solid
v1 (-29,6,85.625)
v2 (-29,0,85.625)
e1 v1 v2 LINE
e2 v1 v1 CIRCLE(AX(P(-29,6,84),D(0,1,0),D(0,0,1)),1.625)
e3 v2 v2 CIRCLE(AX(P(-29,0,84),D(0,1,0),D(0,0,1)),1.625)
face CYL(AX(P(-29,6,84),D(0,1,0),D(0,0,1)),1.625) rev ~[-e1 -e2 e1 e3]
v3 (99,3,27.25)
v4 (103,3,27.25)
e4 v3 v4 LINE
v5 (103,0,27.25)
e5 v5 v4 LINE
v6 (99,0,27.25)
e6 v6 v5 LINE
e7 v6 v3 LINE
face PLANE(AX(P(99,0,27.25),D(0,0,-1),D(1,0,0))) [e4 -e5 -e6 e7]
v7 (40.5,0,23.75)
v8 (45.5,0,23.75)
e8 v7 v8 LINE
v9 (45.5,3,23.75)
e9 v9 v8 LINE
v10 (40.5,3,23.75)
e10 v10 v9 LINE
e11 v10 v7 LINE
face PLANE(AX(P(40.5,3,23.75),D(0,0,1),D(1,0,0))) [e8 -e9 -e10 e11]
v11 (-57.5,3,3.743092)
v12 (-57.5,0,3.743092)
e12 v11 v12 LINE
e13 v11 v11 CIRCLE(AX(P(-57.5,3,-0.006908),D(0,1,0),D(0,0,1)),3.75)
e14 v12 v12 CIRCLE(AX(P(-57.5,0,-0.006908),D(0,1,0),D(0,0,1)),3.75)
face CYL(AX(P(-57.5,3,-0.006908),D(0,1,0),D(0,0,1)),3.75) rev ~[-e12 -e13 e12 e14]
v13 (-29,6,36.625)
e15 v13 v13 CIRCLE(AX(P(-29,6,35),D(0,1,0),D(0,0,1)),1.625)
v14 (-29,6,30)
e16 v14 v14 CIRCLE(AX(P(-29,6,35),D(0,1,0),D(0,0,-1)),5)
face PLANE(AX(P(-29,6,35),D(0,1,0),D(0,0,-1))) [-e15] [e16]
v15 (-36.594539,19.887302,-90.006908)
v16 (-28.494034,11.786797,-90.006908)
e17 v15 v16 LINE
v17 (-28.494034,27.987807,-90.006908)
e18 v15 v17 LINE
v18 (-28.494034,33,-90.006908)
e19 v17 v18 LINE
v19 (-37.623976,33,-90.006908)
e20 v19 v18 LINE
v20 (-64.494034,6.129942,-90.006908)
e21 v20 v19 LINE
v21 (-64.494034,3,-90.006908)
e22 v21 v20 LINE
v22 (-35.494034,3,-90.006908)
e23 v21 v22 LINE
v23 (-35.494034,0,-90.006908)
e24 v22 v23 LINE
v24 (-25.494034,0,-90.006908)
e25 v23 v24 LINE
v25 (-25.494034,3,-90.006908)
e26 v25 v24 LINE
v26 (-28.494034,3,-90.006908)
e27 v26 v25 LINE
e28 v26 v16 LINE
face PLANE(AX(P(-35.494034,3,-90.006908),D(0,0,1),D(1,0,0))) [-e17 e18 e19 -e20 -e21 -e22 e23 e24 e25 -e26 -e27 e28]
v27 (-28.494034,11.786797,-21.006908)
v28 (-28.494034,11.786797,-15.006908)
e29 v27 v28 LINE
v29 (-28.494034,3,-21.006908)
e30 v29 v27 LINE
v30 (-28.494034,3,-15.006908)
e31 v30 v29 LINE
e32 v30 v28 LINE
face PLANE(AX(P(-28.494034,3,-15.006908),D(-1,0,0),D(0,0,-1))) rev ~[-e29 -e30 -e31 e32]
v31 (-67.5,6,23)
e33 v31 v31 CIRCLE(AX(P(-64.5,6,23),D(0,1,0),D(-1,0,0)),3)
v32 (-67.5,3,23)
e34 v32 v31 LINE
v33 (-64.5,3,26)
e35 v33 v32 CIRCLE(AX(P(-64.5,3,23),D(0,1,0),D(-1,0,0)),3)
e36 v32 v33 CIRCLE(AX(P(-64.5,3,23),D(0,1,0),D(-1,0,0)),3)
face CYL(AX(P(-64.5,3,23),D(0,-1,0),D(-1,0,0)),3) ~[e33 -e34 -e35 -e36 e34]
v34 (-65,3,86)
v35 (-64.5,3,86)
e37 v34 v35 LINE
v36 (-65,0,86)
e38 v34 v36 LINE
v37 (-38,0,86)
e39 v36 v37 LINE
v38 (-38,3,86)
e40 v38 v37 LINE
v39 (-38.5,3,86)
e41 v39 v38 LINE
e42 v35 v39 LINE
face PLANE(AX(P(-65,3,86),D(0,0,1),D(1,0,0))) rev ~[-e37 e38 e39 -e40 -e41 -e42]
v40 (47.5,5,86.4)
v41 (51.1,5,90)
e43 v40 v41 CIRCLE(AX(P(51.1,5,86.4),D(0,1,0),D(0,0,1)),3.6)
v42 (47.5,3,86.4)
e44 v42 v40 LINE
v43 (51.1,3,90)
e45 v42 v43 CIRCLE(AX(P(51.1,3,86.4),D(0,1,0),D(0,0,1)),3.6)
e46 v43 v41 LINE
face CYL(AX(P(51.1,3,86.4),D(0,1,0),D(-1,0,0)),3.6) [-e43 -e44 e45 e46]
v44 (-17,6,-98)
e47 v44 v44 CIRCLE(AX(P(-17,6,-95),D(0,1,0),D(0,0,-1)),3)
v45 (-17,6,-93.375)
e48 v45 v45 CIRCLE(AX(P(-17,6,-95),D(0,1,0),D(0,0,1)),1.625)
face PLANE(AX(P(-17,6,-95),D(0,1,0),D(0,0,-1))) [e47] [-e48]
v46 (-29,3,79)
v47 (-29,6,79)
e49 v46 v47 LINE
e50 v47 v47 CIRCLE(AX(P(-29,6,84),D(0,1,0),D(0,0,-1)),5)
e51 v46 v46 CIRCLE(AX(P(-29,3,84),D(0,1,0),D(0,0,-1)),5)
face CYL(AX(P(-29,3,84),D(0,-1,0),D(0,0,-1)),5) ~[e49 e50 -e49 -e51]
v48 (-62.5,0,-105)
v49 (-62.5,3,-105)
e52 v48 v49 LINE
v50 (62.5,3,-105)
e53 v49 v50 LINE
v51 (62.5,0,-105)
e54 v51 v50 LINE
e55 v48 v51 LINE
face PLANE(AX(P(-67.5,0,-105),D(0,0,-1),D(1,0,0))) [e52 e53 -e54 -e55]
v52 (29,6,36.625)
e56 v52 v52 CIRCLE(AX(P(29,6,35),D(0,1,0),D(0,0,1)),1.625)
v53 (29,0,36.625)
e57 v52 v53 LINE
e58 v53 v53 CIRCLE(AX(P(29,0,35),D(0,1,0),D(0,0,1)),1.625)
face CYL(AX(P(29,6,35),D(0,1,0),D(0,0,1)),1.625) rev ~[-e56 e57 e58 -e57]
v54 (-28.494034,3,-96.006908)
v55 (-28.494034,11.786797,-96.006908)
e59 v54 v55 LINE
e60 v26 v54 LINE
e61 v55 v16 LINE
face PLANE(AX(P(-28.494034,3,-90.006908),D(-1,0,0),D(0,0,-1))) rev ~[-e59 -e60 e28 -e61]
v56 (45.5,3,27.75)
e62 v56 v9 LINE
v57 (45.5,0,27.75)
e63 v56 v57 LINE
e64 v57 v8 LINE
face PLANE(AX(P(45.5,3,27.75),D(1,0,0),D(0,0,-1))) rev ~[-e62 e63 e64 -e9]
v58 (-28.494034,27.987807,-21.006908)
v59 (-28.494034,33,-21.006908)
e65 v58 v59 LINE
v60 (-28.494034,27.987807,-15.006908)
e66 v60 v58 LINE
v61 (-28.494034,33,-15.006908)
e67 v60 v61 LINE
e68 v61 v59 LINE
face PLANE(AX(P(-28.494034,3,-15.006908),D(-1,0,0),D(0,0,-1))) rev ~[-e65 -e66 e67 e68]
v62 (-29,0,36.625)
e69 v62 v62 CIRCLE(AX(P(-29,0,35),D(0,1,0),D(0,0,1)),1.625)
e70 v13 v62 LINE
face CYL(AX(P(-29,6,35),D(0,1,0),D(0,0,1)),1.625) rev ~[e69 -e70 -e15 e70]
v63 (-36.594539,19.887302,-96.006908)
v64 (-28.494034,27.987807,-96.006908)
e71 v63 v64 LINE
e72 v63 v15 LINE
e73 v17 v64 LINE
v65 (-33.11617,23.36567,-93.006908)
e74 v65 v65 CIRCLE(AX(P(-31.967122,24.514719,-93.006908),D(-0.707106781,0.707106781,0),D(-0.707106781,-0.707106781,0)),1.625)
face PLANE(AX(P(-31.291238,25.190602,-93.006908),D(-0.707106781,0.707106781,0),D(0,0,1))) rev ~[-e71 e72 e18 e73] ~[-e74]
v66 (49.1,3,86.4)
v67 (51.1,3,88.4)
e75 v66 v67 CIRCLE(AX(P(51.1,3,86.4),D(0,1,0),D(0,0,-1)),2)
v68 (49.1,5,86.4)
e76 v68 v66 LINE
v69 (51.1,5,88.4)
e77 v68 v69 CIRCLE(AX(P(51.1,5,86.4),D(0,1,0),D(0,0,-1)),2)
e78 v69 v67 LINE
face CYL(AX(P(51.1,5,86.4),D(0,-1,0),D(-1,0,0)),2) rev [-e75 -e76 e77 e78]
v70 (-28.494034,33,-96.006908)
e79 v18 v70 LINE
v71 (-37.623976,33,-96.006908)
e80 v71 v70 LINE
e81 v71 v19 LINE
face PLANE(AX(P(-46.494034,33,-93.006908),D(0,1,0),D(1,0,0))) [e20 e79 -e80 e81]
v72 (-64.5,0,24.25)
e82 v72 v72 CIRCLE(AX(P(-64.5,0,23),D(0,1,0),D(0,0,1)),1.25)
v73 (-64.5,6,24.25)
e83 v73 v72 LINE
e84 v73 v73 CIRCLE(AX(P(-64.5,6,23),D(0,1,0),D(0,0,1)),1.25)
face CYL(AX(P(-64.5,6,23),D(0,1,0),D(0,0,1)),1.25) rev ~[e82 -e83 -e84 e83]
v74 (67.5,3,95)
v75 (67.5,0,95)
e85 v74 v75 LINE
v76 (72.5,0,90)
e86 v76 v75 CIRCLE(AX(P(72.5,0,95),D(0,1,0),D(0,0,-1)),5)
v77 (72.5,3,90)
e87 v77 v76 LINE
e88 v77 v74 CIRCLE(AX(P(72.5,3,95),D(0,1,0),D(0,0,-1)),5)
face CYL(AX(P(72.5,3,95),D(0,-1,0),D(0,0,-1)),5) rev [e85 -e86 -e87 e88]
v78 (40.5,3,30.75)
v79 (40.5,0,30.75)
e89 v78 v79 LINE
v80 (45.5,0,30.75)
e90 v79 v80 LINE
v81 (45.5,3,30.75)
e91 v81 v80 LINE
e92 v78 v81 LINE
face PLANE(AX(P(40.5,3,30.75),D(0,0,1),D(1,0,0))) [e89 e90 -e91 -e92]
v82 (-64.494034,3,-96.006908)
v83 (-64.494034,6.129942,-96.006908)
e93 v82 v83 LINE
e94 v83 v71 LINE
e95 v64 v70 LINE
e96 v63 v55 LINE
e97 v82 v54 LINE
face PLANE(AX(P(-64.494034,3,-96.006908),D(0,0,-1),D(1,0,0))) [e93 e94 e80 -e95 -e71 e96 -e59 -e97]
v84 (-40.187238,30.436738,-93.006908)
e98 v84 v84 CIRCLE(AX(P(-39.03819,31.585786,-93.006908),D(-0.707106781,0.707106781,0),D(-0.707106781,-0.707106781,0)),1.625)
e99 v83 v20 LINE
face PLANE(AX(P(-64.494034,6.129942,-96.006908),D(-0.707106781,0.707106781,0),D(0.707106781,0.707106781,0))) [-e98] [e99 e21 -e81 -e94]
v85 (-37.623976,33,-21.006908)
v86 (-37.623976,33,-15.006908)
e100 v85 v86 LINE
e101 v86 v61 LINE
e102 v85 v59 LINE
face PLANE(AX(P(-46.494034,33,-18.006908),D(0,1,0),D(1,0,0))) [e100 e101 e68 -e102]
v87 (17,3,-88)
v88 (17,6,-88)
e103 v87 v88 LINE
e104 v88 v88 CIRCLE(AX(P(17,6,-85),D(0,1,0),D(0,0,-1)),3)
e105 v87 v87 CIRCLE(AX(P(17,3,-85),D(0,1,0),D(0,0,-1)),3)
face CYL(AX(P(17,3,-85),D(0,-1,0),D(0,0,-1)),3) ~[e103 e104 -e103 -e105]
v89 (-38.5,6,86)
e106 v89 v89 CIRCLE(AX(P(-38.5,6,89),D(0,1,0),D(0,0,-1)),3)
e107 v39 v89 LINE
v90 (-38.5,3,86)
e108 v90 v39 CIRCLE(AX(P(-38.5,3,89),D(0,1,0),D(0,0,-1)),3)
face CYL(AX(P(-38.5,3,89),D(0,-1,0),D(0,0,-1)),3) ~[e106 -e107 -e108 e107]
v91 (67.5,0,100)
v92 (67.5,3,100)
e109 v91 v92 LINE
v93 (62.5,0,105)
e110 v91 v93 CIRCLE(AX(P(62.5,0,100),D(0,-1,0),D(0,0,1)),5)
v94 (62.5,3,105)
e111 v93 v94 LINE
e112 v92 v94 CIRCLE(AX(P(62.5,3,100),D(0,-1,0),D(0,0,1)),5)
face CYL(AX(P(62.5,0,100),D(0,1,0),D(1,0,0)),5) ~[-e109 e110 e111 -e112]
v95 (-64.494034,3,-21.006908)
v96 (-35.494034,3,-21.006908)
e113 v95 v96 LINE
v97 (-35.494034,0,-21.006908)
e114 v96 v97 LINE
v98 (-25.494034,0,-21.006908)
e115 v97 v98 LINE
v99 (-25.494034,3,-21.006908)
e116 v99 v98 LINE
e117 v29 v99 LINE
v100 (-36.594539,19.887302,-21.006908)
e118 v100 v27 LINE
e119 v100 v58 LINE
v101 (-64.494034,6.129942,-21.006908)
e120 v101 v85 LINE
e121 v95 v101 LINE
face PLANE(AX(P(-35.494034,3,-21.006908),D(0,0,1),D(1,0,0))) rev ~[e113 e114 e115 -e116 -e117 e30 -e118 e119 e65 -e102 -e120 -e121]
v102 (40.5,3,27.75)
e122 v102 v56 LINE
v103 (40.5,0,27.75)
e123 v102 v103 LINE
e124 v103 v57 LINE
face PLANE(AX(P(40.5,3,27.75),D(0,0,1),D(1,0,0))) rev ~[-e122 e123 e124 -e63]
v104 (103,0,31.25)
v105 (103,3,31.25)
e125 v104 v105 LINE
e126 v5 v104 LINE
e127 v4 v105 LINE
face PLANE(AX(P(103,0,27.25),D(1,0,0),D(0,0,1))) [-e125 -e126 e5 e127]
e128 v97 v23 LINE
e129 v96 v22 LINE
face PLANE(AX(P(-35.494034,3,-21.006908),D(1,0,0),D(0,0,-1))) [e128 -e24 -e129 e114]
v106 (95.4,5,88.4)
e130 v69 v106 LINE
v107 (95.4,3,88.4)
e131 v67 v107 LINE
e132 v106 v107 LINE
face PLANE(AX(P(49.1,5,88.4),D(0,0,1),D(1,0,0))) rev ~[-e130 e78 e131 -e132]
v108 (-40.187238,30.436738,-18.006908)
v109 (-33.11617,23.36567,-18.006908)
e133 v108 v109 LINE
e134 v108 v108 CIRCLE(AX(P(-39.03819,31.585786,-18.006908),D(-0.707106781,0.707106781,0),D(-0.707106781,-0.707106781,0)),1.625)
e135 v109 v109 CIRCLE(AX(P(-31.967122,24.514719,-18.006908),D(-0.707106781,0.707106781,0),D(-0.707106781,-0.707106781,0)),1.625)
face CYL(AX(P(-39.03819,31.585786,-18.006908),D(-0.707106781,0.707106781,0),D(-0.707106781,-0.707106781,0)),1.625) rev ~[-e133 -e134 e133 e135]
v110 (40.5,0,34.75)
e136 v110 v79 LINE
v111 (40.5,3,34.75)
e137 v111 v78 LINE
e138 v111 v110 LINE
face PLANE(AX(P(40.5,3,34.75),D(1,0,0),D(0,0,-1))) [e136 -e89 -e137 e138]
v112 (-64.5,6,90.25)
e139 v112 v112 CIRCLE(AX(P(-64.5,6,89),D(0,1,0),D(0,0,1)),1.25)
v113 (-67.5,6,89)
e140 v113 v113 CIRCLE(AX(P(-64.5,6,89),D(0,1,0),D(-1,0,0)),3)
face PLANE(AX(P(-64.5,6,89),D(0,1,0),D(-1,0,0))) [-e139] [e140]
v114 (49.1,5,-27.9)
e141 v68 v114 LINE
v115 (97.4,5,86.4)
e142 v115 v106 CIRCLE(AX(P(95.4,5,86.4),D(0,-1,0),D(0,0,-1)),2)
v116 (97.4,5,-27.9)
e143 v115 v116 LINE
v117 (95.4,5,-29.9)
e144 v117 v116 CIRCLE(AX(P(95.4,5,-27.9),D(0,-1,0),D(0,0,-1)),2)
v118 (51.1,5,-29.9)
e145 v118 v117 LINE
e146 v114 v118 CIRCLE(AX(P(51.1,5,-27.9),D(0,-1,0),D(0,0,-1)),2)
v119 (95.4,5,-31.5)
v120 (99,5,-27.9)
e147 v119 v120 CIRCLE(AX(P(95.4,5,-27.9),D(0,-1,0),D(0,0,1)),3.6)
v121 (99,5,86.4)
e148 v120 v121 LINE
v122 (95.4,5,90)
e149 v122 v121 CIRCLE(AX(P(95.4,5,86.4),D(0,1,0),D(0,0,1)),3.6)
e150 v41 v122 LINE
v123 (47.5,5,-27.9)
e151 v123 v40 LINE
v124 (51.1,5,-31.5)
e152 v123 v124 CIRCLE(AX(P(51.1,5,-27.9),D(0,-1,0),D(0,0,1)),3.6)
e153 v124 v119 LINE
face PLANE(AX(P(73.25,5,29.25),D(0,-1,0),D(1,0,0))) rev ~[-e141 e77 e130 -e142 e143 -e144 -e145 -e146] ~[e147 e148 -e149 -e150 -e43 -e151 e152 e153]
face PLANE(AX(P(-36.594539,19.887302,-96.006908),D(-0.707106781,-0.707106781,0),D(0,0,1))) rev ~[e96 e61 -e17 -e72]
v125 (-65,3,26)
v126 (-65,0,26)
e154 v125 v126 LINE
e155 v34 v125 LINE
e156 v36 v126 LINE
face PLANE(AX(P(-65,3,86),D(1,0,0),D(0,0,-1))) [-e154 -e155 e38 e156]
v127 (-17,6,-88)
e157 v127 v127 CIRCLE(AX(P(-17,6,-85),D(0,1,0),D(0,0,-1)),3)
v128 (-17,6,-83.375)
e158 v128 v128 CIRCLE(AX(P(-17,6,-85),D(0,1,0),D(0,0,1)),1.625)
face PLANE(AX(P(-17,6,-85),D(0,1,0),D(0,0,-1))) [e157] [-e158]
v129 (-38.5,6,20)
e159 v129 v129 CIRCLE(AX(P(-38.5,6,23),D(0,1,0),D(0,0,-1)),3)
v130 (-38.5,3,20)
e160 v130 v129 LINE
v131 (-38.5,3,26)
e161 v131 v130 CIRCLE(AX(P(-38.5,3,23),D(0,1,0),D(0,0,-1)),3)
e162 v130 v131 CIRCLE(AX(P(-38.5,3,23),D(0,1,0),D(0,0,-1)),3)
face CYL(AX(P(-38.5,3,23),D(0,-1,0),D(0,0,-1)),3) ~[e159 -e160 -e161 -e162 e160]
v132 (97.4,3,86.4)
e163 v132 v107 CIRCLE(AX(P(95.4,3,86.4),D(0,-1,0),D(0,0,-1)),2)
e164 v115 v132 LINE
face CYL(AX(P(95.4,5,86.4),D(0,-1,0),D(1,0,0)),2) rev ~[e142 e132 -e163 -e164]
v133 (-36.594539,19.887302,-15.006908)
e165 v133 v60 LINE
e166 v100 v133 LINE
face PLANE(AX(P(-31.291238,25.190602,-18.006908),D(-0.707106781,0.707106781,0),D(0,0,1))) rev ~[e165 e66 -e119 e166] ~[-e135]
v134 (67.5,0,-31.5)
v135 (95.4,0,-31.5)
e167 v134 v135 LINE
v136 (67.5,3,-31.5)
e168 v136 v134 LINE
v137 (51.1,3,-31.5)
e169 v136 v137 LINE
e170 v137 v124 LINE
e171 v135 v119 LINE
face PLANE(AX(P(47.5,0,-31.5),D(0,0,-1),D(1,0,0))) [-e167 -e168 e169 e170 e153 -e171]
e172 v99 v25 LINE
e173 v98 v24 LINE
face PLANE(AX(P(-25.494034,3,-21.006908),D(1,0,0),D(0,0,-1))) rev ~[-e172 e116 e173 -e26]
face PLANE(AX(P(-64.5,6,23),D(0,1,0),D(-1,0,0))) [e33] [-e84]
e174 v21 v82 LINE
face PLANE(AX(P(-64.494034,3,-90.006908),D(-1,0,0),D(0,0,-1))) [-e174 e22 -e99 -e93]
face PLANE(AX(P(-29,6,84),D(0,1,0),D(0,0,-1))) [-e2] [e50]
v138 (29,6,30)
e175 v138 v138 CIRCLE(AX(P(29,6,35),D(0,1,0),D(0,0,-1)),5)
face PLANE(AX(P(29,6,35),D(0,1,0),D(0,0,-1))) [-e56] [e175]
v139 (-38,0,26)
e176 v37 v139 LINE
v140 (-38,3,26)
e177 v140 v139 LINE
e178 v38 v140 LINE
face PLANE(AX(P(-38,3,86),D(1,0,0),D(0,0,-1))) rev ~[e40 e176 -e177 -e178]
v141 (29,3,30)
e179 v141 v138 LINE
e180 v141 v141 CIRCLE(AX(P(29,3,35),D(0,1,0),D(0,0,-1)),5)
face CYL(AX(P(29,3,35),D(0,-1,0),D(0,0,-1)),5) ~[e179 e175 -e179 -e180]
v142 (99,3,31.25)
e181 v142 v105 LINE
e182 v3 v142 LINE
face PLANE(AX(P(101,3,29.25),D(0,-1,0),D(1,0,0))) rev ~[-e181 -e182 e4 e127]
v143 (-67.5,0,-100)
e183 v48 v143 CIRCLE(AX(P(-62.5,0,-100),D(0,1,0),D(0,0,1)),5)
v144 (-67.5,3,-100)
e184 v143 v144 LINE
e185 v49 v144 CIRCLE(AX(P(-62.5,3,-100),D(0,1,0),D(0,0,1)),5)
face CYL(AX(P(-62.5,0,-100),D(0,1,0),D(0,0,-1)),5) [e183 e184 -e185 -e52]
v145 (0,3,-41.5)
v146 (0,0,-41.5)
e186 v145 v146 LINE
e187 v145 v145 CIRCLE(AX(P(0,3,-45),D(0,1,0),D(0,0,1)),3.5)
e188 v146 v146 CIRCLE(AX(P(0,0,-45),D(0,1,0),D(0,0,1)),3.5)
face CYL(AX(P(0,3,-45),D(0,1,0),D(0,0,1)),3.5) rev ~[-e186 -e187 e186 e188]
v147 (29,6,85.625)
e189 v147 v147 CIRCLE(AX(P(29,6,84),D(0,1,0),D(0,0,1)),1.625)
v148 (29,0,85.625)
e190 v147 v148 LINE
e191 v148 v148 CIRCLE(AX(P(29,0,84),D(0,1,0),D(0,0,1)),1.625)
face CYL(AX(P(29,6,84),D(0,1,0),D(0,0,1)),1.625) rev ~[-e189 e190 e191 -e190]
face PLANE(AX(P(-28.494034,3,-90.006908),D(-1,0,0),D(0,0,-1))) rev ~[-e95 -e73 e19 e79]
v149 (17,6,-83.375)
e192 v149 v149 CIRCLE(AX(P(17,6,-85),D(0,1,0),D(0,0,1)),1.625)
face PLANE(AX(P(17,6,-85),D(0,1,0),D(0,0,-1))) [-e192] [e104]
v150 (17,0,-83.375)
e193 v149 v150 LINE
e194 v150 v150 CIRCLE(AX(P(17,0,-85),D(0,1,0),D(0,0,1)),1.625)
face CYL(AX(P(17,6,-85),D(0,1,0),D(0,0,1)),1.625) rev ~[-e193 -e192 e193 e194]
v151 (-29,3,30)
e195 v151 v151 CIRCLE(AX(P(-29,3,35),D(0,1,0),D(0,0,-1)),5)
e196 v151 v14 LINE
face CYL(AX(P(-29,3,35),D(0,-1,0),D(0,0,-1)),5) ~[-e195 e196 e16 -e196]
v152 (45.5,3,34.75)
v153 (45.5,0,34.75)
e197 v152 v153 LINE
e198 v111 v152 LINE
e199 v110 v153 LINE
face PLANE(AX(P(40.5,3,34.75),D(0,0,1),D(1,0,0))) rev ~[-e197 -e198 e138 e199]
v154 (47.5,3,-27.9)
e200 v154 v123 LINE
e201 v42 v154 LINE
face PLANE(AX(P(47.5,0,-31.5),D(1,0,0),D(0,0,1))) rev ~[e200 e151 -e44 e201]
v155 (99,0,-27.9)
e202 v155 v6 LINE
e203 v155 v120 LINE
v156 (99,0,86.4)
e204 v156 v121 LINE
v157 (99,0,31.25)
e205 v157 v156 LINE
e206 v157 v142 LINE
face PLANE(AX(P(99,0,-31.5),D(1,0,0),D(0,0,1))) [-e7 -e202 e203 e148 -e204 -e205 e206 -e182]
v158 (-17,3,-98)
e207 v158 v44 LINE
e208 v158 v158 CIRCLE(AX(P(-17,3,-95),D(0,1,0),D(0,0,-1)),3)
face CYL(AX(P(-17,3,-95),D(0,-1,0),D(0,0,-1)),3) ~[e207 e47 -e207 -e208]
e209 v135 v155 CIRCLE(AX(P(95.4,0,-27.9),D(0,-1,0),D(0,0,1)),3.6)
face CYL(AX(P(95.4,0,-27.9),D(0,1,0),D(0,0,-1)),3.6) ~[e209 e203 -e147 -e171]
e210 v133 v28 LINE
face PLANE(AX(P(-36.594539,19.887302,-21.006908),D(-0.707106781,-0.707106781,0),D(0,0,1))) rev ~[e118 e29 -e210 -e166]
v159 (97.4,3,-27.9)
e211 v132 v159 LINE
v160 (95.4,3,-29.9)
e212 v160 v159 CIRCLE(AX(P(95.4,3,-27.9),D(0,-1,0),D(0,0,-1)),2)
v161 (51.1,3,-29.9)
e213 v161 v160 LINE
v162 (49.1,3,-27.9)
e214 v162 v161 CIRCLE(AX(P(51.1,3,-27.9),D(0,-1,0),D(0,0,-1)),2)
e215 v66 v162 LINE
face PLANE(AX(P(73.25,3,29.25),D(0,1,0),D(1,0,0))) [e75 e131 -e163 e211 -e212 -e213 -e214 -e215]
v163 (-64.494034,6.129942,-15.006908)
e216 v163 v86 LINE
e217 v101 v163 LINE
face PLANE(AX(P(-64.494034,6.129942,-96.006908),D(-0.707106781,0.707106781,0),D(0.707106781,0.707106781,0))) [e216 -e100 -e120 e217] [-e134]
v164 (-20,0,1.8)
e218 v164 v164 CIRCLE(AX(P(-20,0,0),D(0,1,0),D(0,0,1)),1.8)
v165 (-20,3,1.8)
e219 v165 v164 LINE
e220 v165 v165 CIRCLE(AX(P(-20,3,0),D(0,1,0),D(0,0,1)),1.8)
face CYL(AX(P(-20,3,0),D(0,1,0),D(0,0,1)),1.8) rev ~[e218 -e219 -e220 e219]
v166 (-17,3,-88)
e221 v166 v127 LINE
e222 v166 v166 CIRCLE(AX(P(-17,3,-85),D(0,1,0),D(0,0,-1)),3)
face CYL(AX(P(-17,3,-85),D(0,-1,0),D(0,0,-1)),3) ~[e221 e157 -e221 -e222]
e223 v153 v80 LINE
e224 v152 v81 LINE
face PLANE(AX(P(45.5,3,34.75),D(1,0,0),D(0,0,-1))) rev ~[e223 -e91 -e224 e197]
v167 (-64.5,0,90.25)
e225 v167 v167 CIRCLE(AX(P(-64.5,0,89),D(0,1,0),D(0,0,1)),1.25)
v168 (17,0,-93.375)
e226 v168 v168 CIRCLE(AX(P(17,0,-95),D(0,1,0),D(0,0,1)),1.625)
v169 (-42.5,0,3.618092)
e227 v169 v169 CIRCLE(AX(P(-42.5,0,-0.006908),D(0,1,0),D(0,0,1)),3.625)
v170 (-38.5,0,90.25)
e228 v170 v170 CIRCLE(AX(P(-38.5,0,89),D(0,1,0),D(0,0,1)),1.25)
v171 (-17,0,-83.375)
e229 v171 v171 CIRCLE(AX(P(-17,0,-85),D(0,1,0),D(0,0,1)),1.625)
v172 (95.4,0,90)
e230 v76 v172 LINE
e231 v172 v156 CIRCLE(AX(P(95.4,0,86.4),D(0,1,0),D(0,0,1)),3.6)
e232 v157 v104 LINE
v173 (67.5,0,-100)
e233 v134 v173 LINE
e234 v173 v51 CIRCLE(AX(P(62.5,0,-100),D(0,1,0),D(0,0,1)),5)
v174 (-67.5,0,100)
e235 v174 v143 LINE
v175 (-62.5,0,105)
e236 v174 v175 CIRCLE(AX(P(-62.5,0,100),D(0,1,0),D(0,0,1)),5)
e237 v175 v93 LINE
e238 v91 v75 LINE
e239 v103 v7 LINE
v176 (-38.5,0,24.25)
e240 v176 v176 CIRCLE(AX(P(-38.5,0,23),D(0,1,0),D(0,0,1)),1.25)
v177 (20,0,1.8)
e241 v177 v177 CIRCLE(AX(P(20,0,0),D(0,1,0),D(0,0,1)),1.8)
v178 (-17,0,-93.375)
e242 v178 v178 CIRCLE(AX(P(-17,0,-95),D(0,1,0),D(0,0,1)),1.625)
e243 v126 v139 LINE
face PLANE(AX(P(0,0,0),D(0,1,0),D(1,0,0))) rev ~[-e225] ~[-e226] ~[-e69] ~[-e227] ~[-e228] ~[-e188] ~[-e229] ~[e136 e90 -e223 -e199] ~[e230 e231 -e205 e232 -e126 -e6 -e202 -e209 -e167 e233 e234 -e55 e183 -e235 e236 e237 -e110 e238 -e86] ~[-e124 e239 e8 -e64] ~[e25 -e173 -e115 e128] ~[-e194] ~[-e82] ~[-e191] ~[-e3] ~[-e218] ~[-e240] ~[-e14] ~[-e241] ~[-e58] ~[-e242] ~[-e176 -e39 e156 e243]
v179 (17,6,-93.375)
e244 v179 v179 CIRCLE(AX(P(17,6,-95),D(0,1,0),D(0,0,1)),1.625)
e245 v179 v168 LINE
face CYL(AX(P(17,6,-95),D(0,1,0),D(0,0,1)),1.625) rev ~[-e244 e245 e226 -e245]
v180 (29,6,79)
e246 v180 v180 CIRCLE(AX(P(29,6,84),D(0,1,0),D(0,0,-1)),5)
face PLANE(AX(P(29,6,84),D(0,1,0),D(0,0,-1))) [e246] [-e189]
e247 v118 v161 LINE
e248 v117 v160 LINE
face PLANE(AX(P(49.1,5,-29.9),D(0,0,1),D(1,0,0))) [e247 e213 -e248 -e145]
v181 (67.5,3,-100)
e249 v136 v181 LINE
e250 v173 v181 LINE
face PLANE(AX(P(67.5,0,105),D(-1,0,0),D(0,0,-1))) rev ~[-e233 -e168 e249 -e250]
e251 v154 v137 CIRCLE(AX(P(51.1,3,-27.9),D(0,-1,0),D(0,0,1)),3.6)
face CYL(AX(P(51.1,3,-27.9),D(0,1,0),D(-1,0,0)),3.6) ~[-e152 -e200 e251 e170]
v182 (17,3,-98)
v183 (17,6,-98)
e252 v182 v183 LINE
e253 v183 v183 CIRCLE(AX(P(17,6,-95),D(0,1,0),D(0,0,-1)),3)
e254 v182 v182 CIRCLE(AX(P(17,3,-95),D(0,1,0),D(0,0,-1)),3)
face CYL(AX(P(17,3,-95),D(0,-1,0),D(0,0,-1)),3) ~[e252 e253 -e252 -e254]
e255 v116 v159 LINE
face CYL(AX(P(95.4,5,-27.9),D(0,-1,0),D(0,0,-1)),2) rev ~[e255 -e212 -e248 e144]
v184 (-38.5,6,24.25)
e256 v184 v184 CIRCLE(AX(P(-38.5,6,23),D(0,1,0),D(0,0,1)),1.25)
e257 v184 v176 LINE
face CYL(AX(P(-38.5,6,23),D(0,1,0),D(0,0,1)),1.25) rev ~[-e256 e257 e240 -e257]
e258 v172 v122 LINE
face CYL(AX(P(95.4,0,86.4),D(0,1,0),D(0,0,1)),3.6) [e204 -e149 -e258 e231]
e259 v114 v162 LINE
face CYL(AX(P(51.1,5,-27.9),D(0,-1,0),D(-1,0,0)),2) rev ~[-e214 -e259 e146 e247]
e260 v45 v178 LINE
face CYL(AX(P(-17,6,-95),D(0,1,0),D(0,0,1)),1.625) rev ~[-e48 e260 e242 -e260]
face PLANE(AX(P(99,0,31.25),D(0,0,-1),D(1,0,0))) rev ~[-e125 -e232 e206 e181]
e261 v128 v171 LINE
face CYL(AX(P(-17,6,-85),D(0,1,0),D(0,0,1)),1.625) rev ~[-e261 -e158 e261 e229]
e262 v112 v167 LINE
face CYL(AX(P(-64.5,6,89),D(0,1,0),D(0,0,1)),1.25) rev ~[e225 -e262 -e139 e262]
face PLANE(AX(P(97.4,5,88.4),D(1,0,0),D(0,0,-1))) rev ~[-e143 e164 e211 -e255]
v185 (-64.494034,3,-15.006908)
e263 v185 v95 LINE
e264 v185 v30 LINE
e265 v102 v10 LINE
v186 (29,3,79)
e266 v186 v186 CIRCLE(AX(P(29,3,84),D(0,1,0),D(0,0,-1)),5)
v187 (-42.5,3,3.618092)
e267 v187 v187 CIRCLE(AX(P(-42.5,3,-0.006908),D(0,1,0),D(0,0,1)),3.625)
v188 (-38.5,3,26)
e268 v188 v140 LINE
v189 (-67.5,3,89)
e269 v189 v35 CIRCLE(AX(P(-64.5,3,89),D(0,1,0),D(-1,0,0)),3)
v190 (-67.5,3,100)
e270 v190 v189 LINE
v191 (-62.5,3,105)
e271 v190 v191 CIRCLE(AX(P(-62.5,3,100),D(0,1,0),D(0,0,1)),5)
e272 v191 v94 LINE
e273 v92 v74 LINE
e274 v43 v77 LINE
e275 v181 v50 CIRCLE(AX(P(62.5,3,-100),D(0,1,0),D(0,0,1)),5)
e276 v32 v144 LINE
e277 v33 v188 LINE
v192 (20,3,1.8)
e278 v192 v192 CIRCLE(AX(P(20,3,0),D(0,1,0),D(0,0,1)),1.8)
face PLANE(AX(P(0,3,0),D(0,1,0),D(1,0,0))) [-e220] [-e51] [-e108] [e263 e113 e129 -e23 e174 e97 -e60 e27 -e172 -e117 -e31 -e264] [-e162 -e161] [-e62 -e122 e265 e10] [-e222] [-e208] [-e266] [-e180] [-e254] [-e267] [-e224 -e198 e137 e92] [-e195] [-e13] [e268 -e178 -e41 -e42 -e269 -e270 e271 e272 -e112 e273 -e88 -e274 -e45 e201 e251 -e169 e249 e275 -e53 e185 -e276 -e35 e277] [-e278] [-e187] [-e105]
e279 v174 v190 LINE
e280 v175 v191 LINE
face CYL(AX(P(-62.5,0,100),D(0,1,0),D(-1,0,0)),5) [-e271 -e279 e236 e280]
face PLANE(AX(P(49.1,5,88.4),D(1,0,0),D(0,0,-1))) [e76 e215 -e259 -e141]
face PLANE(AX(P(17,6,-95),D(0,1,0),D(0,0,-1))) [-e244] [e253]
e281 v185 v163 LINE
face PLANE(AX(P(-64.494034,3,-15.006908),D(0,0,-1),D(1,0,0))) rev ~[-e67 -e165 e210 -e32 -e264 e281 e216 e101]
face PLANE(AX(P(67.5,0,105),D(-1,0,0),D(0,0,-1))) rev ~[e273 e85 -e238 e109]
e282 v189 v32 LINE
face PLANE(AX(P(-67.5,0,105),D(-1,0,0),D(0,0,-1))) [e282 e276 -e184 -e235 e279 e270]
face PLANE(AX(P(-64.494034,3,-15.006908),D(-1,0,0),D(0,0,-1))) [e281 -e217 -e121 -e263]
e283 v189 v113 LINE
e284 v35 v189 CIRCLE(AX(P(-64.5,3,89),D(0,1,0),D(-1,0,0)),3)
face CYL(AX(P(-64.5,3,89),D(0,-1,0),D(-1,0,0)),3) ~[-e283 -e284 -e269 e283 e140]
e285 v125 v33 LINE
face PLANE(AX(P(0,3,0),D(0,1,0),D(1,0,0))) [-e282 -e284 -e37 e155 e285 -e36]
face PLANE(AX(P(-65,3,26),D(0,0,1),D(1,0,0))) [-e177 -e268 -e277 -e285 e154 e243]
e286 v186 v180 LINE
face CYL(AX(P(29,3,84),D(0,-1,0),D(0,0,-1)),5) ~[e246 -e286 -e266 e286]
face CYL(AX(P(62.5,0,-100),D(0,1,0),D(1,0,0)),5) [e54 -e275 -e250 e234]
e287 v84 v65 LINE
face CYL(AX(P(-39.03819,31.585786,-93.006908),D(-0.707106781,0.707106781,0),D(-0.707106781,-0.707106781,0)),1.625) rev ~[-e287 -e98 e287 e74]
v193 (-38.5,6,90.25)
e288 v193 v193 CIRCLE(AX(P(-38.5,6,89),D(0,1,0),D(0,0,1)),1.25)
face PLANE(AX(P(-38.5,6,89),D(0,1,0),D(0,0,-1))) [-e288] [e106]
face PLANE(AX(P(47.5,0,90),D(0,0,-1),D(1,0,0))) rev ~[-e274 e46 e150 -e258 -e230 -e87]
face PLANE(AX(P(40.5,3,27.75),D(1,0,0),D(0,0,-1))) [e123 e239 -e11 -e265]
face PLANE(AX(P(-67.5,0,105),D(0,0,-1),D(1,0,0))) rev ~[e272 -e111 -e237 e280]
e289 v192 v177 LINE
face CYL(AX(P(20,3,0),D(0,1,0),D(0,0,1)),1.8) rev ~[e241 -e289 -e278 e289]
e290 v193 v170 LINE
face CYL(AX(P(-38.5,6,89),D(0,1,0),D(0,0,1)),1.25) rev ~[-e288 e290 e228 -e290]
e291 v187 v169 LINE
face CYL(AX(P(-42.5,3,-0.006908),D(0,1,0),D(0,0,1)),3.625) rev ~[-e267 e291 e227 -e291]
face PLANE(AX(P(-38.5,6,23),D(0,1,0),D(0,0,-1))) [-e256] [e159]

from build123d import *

# Parameters (mm, degrees)
SKETCH1_W           = 135
SKETCH1_H           = 210
BOSS_EXTRUDE1_DEPTH = 3
SKETCH2_R           = 3
SKETCH2_R_2         = 5
BOSS_EXTRUDE2_DEPTH = 3
SKETCH3_R           = 3
BOSS_EXTRUDE3_DEPTH = 3
SKETCH4_W           = 51.5
SKETCH4_H           = 121.5
BOSS_EXTRUDE4_DEPTH = 5
SKETCH5_W           = 48.3
SKETCH5_H           = 118.3
CUT_EXTRUDE1_DEPTH  = 2
FILLET1_R           = 2
FILLET2_R           = 3.6
FILLET3_R           = 5
SKETCH6_R           = 3.5
CUT_EXTRUDE2_DEPTH  = 5
SKETCH7_W           = 36
SKETCH7_H           = 6
BOSS_EXTRUDE5_DEPTH = 30
CUT_EXTRUDE3_REACH  = 228.481
CUT_EXTRUDE4_REACH  = 176.102
SKETCH9_R           = 1.625
SKETCH10_R          = 3.625
SKETCH10_R_2        = 3.75
SKETCH10_W          = 27
SKETCH10_H          = 60
CUT_EXTRUDE5_DEPTH  = 148.397421958
SKETCH11_W          = 5
SKETCH11_H          = 4
CUT_EXTRUDE6_DEPTH  = 148.397421958
SKETCH12_W          = 4
SKETCH12_H          = 4
BOSS_EXTRUDE6_DEPTH = 3
SKETCH13_W          = 10
SKETCH13_H          = 69
CUT_EXTRUDE7_DEPTH  = 151.113290551
SKETCH14_R          = 1.25
SKETCH14_R_2        = 1.625
CUT_EXTRUDE8_DEPTH  = 150.542636061
CUT_EXTRUDE9_REACH  = 189.206
CUT_EXTRUDE9_START  = -10
SKETCH15_W          = 6
SKETCH15_H          = 15
SKETCH16_R          = 1.8
CUT_EXTRUDE10_DEPTH = 151.113290551


with BuildPart() as part:
    # Sketch1 → Boss-Extrude1 (new body)
    with BuildSketch(Plane(origin=(0, 0, 0), x_dir=(1, 0, 0), z_dir=(0, 1, 0))):
        Rectangle(SKETCH1_W, SKETCH1_H)
    extrude(amount=BOSS_EXTRUDE1_DEPTH)

    # Sketch2 → Boss-Extrude2 (add)
    with BuildSketch(Plane(origin=(0, 3, 0), x_dir=(1, 0, 0), z_dir=(0, 1, 0))):
        with Locations(Location((-17, 95, 0), (0, 0, 90))):
            Circle(SKETCH2_R)
        with Locations(Location((17, 95, 0), (0, 0, 90))):
            Circle(SKETCH2_R)
        with Locations(Location((-17, 85, 0), (0, 0, 90))):
            Circle(SKETCH2_R)
        with Locations(Location((17, 85, 0), (0, 0, 90))):
            Circle(SKETCH2_R)
        with Locations(Location((-29, -35, 0), (0, 0, 90))):
            Circle(SKETCH2_R_2)
        with Locations(Location((29, -35, 0), (0, 0, 90))):
            Circle(SKETCH2_R_2)
        with Locations(Location((29, -84, 0), (0, 0, 90))):
            Circle(SKETCH2_R_2)
        with Locations(Location((-29, -84, 0), (0, 0, 90))):
            Circle(SKETCH2_R_2)
    extrude(amount=BOSS_EXTRUDE2_DEPTH)

    # Sketch3 → Boss-Extrude3 (add)
    with BuildSketch(Plane(origin=(0, 3, 0), x_dir=(1, 0, 0), z_dir=(0, 1, 0))):
        with Locations(Location((-64.5, -23, 0), (0, 0, 180))):
            Circle(SKETCH3_R)
        with Locations(Location((-38.5, -23, 0), (0, 0, 90))):
            Circle(SKETCH3_R)
        with Locations(Location((-38.5, -89, 0), (0, 0, 90))):
            Circle(SKETCH3_R)
        with Locations(Location((-64.5, -89, 0), (0, 0, 180))):
            Circle(SKETCH3_R)
    extrude(amount=BOSS_EXTRUDE3_DEPTH)

    # Sketch4 → Boss-Extrude4 (add)
    with BuildSketch(Plane.XZ):
        with Locations((73.25, 29.25)):
            Rectangle(SKETCH4_W, SKETCH4_H)
    extrude(amount=-BOSS_EXTRUDE4_DEPTH)

    # Sketch5 → Cut-Extrude1 (cut)
    with BuildSketch(Plane(origin=(0, 5, 0), x_dir=(1, 0, 0), z_dir=(0, 1, 0))):
        with Locations((73.25, -29.25)):
            Rectangle(SKETCH5_W, SKETCH5_H)
    extrude(amount=-CUT_EXTRUDE1_DEPTH, mode=Mode.SUBTRACT)

    # Fillet1
    fillet1_edges = [part.edges().sort_by_distance(p)[0] for p in [
        (49.1, 4, 88.4),
        (97.4, 4, 88.4),
        (97.4, 4, -29.9),
        (49.1, 4, -29.9),
    ]]
    fillet(fillet1_edges, radius=FILLET1_R)

    # Fillet2
    fillet2_edges = [part.edges().sort_by_distance(p)[0] for p in [
        (47.5, 4, -31.5),
        (47.5, 4, 90),
        (99, 2.5, -31.5),
        (99, 2.5, 90),
    ]]
    fillet(fillet2_edges, radius=FILLET2_R)

    # Fillet3
    fillet3_edges = [part.edges().sort_by_distance(p)[0] for p in [
        (67.5, 1.5, 90),
        (67.5, 1.5, 105),
        (-67.5, 1.5, 105),
        (-67.5, 1.5, -105),
        (67.5, 1.5, -105),
    ]]
    fillet(fillet3_edges, radius=FILLET3_R)

    # Sketch6 → Cut-Extrude2 (cut)
    with BuildSketch(Plane(origin=(0, 3, 0), x_dir=(1, 0, 0), z_dir=(0, 1, 0))):
        with Locations(Location((0, 45, 0), (0, 0, 270))):
            Circle(SKETCH6_R)
    extrude(amount=-CUT_EXTRUDE2_DEPTH, mode=Mode.SUBTRACT)

    # Sketch7 → Boss-Extrude5 (add)
    with BuildSketch(Plane(origin=(0, 3, 0), x_dir=(1, 0, 0), z_dir=(0, 1, 0))):
        with Locations((-46.494033915, 93.006908347)):
            Rectangle(SKETCH7_W, SKETCH7_H)
        with Locations((-46.494033915, 18.006908347)):
            Rectangle(SKETCH7_W, SKETCH7_H)
    extrude(amount=BOSS_EXTRUDE5_DEPTH)

    # Cut-Extrude3: up to this face of the body (flat: up to its plane)
    cut_extrude3_end = Plane(part.part.faces().sort_by_distance((-46.494033915, 18, -15.006908347))[0])
    # Sketch8 → Cut-Extrude3 (cut, up to the picked face)
    with BuildSketch(Plane(origin=(0, 0, -96.006908347), x_dir=(-1, 0, 0), z_dir=(0, 0, -1)), mode=Mode.PRIVATE) as cut_extrude3_sk1:
        Polygon((64.494033915, 33), (64.494033915, 6.129942315), (37.62397623, 33), align=None)
    cut_extrude3_tool1 = split(extrude(cut_extrude3_sk1.sketch, amount=-CUT_EXTRUDE3_REACH, mode=Mode.PRIVATE), bisect_by=cut_extrude3_end, keep=Keep.BOTH, mode=Mode.PRIVATE)
    add(cut_extrude3_tool1.solids().sort_by(Axis((-55.537348, 24.043314, -96.006908), (0, 0, 1)))[0], mode=Mode.SUBTRACT)

    # Cut-Extrude4: up to this plane
    cut_extrude4_end = Plane(origin=(-28.494033915, 33, -96.006908347), z_dir=(-1, 0, 0))
    # Sketch9 → Cut-Extrude4 (cut, up to the surface)
    with BuildSketch(Plane(origin=(-35.311988115, 35.311988115, 0), x_dir=(0, 0, 1), z_dir=(-0.7071067811865515, 0.7071067811865437, 0)), mode=Mode.PRIVATE) as cut_extrude4_sk1:
        with Locations(Location((-18.006908347, -5.269644948, 0), (0, 0, 270))):
            Circle(SKETCH9_R)
    cut_extrude4_tool1 = split(extrude(cut_extrude4_sk1.sketch, amount=-CUT_EXTRUDE4_REACH, mode=Mode.PRIVATE), bisect_by=cut_extrude4_end, keep=Keep.BOTH, mode=Mode.PRIVATE)
    add(cut_extrude4_tool1.solids().sort_by_distance((-39.03819, 31.585786, -18.006908))[0], mode=Mode.SUBTRACT)
    # Sketch9 → Cut-Extrude4 (cut, up to the surface)
    with BuildSketch(Plane(origin=(-35.311988115, 35.311988115, 0), x_dir=(0, 0, 1), z_dir=(-0.7071067811865515, 0.7071067811865437, 0)), mode=Mode.PRIVATE) as cut_extrude4_sk2:
        with Locations(Location((-93.006908347, -5.269644948, 0), (0, 0, 270))):
            Circle(SKETCH9_R)
    cut_extrude4_tool2 = split(extrude(cut_extrude4_sk2.sketch, amount=-CUT_EXTRUDE4_REACH, mode=Mode.PRIVATE), bisect_by=cut_extrude4_end, keep=Keep.BOTH, mode=Mode.PRIVATE)
    add(cut_extrude4_tool2.solids().sort_by_distance((-39.03819, 31.585786, -93.006908))[0], mode=Mode.SUBTRACT)

    # Sketch10 → Cut-Extrude5 (cut, through all)
    with BuildSketch(Plane(origin=(0, 3, 0), x_dir=(1, 0, 0), z_dir=(0, 1, 0))):
        with Locations(Location((-42.5, 0.006908347, 0), (0, 0, 270))):
            Circle(SKETCH10_R)
        with Locations(Location((-57.5, 0.006908347, 0), (0, 0, 270))):
            Circle(SKETCH10_R_2)
        with Locations((-51.5, -56)):
            Rectangle(SKETCH10_W, SKETCH10_H)
    extrude(amount=-CUT_EXTRUDE5_DEPTH, mode=Mode.SUBTRACT)

    # Sketch11 → Cut-Extrude6 (cut, through all)
    with BuildSketch(Plane(origin=(0, 3, 0), x_dir=(1, 0, 0), z_dir=(0, 1, 0))):
        with Locations((43, -25.75)):
            Rectangle(SKETCH11_W, SKETCH11_H)
        with Locations((43, -32.75)):
            Rectangle(SKETCH11_W, SKETCH11_H)
    extrude(amount=-CUT_EXTRUDE6_DEPTH, mode=Mode.SUBTRACT)

    # Sketch12 → Boss-Extrude6 (add)
    with BuildSketch(Plane.XZ):
        with Locations((101, 29.25)):
            Rectangle(SKETCH12_W, SKETCH12_H)
    extrude(amount=-BOSS_EXTRUDE6_DEPTH)

    # Sketch13 → Cut-Extrude7 (cut, through all)
    with BuildSketch(Plane(origin=(0, 3, 0), x_dir=(1, 0, 0), z_dir=(0, 1, 0))):
        with Locations((-30.494033915, 55.506908347)):
            Rectangle(SKETCH13_W, SKETCH13_H)
    extrude(amount=-CUT_EXTRUDE7_DEPTH, mode=Mode.SUBTRACT)

    # Sketch14 → Cut-Extrude8 (cut, through all)
    with BuildSketch(Plane(origin=(0, 6, 0), x_dir=(1, 0, 0), z_dir=(0, 1, 0))):
        with Locations(Location((-38.5, -89, 0), (0, 0, 270))):
            Circle(SKETCH14_R)
        with Locations(Location((-64.5, -89, 0), (0, 0, 270))):
            Circle(SKETCH14_R)
        with Locations(Location((-38.5, -23, 0), (0, 0, 270))):
            Circle(SKETCH14_R)
        with Locations(Location((-64.5, -23, 0), (0, 0, 270))):
            Circle(SKETCH14_R)
        with Locations(Location((-29, -35, 0), (0, 0, 270))):
            Circle(SKETCH14_R_2)
        with Locations(Location((-29, -84, 0), (0, 0, 270))):
            Circle(SKETCH14_R_2)
        with Locations(Location((29, -84, 0), (0, 0, 270))):
            Circle(SKETCH14_R_2)
        with Locations(Location((29, -35, 0), (0, 0, 270))):
            Circle(SKETCH14_R_2)
        with Locations(Location((17, 95, 0), (0, 0, 270))):
            Circle(SKETCH14_R_2)
        with Locations(Location((17, 85, 0), (0, 0, 270))):
            Circle(SKETCH14_R_2)
        with Locations(Location((-17, 85, 0), (0, 0, 270))):
            Circle(SKETCH14_R_2)
        with Locations(Location((-17, 95, 0), (0, 0, 270))):
            Circle(SKETCH14_R_2)
    extrude(amount=-CUT_EXTRUDE8_DEPTH, mode=Mode.SUBTRACT)

    # Cut-Extrude9: up to this face of the body (flat: up to its plane)
    cut_extrude9_end = Plane(part.part.faces().sort_by_distance((-28.494033915, 17.787931336, -93.006908347))[0])
    # Sketch15 → Cut-Extrude9 (cut, up to the picked face)
    with BuildSketch(Plane(origin=(-35.311988115, 35.311988115, 0), x_dir=(0, 0, 1), z_dir=(-0.7071067811865515, 0.7071067811865437, 0)).offset(CUT_EXTRUDE9_START), mode=Mode.PRIVATE) as cut_extrude9_sk1:
        with Locations((-93.006908347, -4.313800825)):
            Rectangle(SKETCH15_W, SKETCH15_H)
    cut_extrude9_tool1 = split(extrude(cut_extrude9_sk1.sketch, amount=-CUT_EXTRUDE9_REACH, mode=Mode.PRIVATE), bisect_by=cut_extrude9_end, keep=Keep.BOTH, mode=Mode.PRIVATE)
    # Sketch15 → Cut-Extrude9 (cut, up to the picked face)
    with BuildSketch(Plane(origin=(-35.311988115, 35.311988115, 0), x_dir=(0, 0, 1), z_dir=(-0.7071067811865515, 0.7071067811865437, 0)).offset(CUT_EXTRUDE9_START), mode=Mode.PRIVATE) as cut_extrude9_sk2:
        with Locations((-18.006908347, -4.313800825)):
            Rectangle(SKETCH15_W, SKETCH15_H)
    cut_extrude9_tool2 = split(extrude(cut_extrude9_sk2.sketch, amount=-CUT_EXTRUDE9_REACH, mode=Mode.PRIVATE), bisect_by=cut_extrude9_end, keep=Keep.BOTH, mode=Mode.PRIVATE)
    add(cut_extrude9_tool1.solids().sort_by(Axis((-31.291238, 25.190602, -93.006908), (0.7071067811865515, -0.7071067811865437, 0)))[0], mode=Mode.SUBTRACT)
    add(cut_extrude9_tool2.solids().sort_by(Axis((-31.291238, 25.190602, -18.006908), (0.7071067811865515, -0.7071067811865437, 0)))[0], mode=Mode.SUBTRACT)

    # Sketch16 → Cut-Extrude10 (cut, through all)
    with BuildSketch(Plane(origin=(0, 3, 0), x_dir=(1, 0, 0), z_dir=(0, 1, 0))):
        with Locations(Location((20, 0, 0), (0, 0, 270))):
            Circle(SKETCH16_R)
        with Locations(Location((-20, 0, 0), (0, 0, 270))):
            Circle(SKETCH16_R)
    extrude(amount=-CUT_EXTRUDE10_DEPTH, mode=Mode.SUBTRACT)


solid = part.part
